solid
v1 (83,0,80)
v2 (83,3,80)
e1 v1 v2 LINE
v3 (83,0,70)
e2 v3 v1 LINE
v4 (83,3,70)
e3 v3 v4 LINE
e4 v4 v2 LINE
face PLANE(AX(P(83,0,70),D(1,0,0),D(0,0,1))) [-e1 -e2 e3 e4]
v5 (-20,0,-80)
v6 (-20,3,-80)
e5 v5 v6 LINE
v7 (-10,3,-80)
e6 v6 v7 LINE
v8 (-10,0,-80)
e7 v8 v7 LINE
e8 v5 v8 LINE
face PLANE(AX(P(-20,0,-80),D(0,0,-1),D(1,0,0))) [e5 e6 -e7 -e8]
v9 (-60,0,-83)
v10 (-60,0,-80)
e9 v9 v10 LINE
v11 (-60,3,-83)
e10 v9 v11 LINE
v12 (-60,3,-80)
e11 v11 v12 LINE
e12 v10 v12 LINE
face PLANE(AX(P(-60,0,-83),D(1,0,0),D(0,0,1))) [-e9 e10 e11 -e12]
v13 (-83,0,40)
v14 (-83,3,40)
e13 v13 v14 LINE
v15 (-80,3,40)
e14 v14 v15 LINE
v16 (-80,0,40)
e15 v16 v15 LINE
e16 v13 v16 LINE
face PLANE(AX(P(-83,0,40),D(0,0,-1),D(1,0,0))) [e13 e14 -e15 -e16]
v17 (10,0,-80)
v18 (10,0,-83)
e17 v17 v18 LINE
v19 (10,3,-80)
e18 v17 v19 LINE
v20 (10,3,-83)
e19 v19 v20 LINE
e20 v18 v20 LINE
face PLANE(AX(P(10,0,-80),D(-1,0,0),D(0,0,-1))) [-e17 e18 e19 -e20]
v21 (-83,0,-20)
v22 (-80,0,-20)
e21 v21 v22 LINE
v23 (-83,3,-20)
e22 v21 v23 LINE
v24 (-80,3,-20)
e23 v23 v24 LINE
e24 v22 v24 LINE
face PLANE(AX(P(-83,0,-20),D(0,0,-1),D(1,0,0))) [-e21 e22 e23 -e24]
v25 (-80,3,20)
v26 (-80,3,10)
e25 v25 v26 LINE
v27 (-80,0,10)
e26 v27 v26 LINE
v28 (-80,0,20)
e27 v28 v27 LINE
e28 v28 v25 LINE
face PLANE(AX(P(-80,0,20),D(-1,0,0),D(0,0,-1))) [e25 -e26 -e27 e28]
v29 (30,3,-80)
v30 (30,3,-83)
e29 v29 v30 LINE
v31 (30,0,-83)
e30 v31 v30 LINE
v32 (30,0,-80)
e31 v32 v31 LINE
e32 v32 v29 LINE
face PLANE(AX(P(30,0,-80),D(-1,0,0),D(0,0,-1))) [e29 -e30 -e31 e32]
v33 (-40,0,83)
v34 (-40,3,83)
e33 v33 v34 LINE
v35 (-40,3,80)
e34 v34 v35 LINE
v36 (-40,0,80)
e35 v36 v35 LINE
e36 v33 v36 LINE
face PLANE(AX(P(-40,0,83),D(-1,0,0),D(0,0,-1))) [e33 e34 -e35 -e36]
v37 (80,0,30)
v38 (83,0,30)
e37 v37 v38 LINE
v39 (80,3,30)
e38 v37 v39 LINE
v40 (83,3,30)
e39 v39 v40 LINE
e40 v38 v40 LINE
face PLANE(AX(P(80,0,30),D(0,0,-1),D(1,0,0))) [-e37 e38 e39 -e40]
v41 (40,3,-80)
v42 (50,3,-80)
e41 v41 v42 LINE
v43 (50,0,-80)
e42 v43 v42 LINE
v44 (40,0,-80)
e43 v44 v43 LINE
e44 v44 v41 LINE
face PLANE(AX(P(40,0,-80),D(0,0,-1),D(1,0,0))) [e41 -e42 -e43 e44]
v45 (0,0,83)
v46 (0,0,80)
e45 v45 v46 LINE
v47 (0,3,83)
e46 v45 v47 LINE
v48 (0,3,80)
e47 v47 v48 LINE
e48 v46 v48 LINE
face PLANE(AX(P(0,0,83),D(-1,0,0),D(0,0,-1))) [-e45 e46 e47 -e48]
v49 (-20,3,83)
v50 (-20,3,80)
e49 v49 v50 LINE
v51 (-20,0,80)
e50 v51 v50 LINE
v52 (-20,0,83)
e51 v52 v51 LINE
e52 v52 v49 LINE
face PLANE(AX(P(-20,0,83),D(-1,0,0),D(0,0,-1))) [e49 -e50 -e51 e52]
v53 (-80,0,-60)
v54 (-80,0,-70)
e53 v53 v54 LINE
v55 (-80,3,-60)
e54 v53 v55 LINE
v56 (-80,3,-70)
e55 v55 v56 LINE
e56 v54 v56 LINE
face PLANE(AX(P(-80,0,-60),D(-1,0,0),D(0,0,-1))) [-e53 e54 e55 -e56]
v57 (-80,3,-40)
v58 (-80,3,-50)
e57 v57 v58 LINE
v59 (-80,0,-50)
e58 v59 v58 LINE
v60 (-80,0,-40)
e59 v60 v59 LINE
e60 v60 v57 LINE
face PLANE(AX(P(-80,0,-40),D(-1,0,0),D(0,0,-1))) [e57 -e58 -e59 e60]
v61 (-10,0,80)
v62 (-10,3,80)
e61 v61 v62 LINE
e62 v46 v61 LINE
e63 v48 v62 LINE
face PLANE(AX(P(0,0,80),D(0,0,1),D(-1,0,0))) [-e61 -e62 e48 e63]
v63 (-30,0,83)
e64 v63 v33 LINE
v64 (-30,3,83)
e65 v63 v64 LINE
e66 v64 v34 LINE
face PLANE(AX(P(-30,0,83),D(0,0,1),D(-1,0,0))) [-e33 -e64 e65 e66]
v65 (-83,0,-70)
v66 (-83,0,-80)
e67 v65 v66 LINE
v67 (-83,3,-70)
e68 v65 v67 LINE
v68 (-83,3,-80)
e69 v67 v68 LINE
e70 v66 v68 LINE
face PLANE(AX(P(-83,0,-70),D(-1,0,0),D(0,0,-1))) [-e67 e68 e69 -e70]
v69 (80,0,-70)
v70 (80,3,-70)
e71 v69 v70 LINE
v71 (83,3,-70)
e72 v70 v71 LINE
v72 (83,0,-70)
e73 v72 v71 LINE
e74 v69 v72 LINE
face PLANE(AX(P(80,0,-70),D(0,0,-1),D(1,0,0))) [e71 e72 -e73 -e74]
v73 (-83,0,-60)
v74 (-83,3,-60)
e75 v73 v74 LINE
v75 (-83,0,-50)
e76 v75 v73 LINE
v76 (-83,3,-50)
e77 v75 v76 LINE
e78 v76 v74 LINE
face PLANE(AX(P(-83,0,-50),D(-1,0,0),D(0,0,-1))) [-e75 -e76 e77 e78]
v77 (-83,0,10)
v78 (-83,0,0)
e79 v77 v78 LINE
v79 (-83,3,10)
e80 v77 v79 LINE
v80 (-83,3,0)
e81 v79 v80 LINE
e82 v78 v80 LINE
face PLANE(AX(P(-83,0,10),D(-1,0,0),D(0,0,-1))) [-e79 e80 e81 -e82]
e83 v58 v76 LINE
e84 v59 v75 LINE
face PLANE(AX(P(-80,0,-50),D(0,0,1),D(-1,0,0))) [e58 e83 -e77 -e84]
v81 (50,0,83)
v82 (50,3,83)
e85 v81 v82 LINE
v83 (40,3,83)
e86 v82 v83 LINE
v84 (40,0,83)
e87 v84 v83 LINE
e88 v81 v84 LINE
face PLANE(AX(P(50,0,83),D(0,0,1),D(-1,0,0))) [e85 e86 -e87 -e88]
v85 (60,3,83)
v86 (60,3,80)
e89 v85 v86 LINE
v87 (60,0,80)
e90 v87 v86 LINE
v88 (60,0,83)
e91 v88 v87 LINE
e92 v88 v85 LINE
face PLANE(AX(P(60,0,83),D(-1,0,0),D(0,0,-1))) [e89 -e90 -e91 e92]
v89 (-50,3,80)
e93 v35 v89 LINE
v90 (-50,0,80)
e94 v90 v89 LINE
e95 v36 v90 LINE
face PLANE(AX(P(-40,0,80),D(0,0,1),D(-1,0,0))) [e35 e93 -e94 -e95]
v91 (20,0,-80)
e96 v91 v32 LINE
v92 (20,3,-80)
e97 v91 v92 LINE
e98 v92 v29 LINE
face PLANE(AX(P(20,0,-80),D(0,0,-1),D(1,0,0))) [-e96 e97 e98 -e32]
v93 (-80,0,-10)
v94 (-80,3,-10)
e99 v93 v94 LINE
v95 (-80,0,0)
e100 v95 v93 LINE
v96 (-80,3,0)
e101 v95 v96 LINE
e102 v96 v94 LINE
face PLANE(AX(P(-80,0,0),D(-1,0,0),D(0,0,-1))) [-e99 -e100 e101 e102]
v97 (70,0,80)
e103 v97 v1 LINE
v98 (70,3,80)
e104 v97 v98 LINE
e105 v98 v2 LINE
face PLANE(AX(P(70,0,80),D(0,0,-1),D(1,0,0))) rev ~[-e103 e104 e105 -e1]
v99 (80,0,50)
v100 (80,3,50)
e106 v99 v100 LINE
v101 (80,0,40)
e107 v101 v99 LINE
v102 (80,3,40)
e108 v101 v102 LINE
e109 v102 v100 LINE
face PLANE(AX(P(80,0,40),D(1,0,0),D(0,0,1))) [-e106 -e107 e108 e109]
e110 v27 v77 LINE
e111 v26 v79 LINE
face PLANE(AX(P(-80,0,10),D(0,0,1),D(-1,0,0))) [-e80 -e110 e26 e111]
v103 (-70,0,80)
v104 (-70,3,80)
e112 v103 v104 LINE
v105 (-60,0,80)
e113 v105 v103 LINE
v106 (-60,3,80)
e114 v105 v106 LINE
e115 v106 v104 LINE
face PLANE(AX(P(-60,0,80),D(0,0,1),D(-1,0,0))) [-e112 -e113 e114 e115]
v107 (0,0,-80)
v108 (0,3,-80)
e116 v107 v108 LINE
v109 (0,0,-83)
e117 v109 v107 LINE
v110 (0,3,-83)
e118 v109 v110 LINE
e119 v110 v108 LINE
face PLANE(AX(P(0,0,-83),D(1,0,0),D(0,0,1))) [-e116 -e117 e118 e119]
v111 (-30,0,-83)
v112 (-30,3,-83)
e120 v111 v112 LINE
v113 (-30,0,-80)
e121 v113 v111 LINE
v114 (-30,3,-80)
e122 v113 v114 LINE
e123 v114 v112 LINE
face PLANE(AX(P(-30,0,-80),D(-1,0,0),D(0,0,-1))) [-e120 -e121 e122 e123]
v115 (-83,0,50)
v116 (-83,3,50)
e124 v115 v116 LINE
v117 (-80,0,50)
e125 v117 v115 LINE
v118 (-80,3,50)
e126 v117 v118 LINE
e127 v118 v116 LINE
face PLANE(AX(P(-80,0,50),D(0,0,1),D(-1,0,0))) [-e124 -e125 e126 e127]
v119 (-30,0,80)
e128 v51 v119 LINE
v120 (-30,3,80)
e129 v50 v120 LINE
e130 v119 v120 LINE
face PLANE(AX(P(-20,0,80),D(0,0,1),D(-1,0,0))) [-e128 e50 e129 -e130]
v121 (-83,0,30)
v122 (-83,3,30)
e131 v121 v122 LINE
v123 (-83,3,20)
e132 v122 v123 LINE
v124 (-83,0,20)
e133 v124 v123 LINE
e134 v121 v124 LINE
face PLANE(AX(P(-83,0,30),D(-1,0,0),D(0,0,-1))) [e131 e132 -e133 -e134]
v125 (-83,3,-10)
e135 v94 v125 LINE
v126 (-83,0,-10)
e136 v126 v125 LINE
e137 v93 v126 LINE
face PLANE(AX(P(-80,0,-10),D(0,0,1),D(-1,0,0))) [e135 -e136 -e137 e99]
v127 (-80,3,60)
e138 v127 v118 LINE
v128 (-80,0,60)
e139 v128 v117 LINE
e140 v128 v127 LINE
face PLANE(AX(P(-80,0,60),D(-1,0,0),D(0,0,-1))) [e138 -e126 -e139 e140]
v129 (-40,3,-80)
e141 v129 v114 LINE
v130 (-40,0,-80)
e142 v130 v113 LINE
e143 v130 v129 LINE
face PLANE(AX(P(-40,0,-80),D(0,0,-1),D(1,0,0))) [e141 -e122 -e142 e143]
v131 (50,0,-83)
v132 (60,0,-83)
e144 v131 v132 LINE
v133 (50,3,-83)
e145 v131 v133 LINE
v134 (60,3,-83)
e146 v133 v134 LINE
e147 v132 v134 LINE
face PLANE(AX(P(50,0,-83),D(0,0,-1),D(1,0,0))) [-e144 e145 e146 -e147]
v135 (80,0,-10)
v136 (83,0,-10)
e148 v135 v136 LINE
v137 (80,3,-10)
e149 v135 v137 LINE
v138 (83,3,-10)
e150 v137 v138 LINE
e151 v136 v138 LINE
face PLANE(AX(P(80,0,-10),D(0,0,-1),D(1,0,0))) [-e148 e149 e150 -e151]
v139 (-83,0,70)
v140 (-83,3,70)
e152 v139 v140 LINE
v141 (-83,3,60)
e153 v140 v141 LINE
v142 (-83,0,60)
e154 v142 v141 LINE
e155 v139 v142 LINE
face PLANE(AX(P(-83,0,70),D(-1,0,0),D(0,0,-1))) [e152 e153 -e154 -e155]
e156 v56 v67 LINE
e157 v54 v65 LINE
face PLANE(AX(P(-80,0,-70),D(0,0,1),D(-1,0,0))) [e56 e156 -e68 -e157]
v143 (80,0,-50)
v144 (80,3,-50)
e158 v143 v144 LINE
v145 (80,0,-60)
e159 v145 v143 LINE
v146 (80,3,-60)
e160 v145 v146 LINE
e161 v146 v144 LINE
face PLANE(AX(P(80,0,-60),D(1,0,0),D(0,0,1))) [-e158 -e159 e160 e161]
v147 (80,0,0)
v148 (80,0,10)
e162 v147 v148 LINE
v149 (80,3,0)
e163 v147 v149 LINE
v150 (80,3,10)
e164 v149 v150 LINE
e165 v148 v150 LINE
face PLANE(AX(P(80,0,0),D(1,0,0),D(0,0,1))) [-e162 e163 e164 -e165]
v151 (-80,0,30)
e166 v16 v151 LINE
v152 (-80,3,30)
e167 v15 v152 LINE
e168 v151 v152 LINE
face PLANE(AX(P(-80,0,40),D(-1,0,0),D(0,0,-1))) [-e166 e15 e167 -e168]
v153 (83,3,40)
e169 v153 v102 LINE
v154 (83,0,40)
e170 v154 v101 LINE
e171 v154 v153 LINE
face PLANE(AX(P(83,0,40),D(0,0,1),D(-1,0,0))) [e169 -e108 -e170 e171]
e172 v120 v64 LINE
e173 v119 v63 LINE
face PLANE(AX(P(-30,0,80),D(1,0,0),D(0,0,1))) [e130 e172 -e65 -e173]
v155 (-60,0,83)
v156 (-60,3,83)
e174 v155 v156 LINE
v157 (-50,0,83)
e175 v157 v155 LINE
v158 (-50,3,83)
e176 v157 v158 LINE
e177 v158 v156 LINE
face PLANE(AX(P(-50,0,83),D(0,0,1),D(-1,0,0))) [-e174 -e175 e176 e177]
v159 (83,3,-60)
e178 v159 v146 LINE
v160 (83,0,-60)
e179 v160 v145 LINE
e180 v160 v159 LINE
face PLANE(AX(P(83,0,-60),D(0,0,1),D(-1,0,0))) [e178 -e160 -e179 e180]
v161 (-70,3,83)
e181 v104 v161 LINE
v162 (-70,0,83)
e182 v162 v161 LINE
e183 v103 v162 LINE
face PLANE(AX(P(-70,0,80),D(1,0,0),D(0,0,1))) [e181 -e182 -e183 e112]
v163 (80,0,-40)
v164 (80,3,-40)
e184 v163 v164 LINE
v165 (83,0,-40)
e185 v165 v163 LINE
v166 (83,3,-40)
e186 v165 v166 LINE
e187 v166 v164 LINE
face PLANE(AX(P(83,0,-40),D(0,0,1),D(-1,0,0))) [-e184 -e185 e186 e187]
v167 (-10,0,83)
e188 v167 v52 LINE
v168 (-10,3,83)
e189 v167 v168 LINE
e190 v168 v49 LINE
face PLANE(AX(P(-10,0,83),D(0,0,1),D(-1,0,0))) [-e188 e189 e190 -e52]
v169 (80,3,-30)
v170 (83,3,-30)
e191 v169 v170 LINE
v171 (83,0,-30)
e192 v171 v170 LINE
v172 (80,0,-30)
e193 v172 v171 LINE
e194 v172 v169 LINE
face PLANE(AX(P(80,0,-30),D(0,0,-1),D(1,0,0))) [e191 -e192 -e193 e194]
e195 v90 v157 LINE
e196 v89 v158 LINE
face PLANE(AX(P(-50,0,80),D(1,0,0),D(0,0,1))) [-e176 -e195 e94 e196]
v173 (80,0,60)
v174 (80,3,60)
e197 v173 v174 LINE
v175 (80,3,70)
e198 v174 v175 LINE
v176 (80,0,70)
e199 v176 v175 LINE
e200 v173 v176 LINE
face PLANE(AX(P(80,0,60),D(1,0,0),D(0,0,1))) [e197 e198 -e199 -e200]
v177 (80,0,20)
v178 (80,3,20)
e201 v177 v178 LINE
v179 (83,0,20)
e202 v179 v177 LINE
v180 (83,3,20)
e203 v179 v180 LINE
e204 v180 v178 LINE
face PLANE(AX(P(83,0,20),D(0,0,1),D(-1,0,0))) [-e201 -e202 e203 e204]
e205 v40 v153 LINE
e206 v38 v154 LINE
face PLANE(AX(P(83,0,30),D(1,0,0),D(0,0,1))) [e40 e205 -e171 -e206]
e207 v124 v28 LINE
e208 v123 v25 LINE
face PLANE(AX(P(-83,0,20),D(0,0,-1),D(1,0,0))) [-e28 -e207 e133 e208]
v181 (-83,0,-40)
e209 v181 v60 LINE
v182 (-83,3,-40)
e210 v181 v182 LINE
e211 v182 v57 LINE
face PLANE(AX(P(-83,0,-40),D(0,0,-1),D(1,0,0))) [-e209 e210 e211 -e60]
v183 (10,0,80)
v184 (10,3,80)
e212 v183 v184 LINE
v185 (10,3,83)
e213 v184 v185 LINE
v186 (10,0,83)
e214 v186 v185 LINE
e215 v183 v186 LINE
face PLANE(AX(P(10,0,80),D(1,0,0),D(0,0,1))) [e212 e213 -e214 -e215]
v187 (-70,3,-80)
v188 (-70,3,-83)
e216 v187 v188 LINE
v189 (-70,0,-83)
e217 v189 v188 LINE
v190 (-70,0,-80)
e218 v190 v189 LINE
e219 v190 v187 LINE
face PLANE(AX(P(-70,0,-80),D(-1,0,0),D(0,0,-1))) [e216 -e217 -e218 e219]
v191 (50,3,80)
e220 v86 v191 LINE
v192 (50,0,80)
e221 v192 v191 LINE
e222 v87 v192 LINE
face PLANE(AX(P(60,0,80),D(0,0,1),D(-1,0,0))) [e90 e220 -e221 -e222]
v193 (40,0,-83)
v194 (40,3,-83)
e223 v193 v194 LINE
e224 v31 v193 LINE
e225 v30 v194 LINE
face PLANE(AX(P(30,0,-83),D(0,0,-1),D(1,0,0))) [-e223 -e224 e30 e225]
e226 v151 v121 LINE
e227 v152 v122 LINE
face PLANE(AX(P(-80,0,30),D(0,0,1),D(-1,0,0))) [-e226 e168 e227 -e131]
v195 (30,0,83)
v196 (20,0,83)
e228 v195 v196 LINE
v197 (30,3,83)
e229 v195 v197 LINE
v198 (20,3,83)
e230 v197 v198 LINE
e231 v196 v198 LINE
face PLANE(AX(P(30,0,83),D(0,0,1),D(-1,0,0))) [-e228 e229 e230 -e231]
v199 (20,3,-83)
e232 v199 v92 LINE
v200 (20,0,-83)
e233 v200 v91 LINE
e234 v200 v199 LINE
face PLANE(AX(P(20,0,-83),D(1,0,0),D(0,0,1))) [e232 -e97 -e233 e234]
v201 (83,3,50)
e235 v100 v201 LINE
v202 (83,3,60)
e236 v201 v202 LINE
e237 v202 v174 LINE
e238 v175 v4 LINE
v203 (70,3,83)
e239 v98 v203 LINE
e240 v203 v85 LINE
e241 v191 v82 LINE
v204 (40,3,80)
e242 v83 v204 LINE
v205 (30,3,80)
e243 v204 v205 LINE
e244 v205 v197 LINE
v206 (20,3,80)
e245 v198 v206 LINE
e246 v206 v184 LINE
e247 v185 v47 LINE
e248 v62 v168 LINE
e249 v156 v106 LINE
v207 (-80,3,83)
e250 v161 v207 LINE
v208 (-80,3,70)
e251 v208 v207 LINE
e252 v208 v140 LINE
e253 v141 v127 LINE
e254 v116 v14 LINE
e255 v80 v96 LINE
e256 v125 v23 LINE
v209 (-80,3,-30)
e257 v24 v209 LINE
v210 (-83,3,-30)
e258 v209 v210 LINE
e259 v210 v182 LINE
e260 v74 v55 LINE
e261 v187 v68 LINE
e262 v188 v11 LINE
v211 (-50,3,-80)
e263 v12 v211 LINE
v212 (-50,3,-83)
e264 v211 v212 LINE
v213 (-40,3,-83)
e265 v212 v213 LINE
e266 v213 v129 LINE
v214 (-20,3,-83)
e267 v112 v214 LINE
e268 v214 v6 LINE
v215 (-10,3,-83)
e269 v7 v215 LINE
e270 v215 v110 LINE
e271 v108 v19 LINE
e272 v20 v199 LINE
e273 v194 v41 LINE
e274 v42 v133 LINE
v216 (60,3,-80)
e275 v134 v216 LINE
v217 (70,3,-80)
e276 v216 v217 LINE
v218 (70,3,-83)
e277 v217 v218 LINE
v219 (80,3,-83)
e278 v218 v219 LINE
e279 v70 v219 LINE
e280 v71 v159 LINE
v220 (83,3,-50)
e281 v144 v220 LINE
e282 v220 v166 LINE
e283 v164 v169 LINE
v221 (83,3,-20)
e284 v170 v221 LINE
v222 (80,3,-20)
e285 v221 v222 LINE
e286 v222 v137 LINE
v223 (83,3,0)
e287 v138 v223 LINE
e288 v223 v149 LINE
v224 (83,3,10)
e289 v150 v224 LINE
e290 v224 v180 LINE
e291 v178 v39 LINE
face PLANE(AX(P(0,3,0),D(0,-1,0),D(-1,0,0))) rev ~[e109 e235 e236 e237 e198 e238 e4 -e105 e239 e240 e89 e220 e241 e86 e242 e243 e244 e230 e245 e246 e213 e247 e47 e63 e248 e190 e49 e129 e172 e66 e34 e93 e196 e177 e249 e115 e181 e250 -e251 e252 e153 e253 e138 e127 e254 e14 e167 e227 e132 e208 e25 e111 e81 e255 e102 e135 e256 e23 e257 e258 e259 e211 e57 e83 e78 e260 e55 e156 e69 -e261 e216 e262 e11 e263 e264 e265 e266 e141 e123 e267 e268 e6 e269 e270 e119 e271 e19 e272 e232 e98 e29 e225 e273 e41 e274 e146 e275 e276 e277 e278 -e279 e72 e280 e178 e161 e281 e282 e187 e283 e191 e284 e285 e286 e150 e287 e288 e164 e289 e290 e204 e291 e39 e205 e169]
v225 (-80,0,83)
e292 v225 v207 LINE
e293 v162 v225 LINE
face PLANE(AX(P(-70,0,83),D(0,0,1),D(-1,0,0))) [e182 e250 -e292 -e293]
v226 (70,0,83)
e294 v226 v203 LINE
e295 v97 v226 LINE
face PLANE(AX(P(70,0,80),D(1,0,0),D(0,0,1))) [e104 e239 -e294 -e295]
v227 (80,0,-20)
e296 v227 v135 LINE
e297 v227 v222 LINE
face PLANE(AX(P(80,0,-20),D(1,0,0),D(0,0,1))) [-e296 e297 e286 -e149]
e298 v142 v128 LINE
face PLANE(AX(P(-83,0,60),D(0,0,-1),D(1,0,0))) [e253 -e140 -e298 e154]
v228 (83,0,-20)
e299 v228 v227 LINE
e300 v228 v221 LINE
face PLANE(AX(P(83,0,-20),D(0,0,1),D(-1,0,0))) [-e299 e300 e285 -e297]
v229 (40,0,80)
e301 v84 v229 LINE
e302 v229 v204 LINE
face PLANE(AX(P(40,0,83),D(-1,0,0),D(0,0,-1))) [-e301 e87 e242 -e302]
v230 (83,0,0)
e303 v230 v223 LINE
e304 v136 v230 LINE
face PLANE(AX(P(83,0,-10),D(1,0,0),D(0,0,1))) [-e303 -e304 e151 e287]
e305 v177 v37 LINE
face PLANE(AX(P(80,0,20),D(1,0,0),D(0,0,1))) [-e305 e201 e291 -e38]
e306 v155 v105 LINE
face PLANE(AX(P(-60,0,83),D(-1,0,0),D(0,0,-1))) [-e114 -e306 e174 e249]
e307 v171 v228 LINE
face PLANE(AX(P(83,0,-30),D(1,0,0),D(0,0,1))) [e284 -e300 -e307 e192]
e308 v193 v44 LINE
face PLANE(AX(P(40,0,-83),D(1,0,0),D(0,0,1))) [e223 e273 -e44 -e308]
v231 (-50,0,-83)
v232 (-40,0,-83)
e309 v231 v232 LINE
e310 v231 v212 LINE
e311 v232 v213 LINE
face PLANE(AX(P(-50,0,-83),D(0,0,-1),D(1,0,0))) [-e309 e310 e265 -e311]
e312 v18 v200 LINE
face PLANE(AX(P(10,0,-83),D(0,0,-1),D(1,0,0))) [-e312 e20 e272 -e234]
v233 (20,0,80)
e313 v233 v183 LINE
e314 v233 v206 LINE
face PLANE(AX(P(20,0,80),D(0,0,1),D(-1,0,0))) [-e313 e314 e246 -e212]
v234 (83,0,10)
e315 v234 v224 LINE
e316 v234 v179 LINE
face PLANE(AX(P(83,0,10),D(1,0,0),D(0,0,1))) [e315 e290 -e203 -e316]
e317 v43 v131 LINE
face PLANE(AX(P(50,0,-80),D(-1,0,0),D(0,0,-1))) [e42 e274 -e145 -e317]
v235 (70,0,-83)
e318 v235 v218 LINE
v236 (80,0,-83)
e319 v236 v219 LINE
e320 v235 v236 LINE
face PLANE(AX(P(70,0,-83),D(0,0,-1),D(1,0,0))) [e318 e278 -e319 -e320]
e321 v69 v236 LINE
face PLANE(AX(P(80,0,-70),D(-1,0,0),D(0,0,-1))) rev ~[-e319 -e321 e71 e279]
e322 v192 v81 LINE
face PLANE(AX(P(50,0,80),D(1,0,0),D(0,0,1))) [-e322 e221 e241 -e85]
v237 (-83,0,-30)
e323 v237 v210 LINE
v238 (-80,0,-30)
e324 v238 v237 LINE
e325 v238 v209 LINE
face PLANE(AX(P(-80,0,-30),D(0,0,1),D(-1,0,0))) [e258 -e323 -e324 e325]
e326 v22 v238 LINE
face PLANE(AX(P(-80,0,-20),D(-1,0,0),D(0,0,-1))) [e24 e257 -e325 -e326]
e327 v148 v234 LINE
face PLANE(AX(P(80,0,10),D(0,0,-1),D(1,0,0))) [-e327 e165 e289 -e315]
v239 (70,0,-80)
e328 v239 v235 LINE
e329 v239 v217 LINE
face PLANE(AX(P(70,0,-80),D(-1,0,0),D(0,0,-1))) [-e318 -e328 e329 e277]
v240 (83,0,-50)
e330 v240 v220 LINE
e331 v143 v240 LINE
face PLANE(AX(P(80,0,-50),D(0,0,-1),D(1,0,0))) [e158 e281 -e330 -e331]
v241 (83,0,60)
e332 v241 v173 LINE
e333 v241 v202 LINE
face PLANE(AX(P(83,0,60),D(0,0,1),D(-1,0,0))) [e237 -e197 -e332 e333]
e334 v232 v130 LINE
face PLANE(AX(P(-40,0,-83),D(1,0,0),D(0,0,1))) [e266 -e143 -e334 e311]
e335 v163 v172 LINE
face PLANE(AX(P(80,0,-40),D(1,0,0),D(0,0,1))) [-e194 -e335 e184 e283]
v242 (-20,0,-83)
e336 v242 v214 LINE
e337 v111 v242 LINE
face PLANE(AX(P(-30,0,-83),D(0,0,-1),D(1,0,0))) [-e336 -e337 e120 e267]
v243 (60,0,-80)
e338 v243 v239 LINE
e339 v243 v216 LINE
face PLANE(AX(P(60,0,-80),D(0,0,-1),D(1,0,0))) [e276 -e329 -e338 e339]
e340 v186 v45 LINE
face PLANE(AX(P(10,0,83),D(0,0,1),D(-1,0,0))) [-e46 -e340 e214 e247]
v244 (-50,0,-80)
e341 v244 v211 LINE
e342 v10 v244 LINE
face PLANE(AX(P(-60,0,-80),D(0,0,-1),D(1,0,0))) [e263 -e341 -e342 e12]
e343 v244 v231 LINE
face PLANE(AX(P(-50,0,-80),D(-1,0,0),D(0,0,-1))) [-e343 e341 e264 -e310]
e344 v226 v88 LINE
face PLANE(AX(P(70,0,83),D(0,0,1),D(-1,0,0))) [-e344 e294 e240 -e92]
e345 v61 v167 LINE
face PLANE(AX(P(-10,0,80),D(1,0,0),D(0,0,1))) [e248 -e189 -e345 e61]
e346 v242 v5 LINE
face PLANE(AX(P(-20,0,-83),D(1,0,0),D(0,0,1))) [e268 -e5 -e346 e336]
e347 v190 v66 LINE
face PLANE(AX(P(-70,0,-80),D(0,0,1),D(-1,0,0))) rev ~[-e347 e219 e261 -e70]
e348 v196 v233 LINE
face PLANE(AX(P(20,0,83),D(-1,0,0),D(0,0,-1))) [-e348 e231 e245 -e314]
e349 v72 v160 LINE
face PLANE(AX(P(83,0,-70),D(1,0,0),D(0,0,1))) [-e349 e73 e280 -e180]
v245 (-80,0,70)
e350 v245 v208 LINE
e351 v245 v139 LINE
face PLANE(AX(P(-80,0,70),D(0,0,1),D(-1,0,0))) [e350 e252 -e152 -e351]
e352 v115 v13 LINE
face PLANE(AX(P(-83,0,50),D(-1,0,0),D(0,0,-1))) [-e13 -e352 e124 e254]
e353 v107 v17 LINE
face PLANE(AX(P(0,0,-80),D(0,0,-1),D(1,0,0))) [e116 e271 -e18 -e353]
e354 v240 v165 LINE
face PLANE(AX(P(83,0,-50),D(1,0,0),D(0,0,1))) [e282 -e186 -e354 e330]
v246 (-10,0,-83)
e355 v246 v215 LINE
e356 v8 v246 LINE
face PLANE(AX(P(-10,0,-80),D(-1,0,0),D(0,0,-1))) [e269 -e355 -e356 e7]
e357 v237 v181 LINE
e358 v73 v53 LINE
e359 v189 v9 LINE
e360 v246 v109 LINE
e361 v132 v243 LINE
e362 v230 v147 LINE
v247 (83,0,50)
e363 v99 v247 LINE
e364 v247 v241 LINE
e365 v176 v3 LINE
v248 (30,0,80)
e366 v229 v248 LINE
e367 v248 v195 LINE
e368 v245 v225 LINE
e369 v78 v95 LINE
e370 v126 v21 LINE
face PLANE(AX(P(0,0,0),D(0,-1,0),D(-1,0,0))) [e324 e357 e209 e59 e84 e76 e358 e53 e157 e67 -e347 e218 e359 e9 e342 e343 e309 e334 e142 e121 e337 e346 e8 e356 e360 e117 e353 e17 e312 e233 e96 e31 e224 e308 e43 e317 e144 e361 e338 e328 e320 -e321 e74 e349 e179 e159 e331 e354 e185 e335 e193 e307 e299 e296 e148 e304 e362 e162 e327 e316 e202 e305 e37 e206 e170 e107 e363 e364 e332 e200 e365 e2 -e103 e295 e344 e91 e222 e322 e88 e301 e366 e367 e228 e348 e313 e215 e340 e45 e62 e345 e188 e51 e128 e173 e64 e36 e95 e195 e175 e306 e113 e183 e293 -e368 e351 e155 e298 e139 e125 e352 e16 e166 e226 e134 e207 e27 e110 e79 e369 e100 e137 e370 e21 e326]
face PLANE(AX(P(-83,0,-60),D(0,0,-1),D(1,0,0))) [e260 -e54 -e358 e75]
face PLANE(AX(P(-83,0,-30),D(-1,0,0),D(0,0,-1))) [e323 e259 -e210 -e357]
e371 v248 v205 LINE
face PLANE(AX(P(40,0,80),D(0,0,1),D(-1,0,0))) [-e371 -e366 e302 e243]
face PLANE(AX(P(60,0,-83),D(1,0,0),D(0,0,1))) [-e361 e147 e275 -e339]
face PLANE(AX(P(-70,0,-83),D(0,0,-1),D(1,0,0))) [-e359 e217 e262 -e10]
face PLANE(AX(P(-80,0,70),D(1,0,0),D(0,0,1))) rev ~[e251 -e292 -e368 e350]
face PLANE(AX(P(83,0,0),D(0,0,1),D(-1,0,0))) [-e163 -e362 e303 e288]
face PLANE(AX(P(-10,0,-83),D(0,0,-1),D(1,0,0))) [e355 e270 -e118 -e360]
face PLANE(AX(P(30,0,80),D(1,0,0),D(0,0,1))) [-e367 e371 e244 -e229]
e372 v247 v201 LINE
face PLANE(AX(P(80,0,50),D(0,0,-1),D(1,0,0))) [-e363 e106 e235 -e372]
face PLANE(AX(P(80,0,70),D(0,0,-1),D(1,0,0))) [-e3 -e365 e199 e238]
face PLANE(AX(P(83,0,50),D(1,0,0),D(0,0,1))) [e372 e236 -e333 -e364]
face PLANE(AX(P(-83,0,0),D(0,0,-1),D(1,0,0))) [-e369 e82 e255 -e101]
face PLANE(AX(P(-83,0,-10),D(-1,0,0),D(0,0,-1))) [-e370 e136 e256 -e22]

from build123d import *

# Parameters (mm, degrees)
BOSS_EXTRUDE1_DEPTH = 3


with BuildPart() as part:
    # Sketch1 → Boss-Extrude1 (new body)
    with BuildSketch(Plane(origin=(0, 0, 0), x_dir=(1, 0, 0), z_dir=(0, 1, 0))):
        Polygon((80, 80), (80, 70), (83, 70), (83, 60), (80, 60), (80, 50), (83, 50), (83, 40), (80, 40), (80, 30), (83, 30), (83, 20), (80, 20), (80, 10), (83, 10), (83, 0), (80, 0), (80, -10), (83, -10), (83, -20), (80, -20), (80, -30), (83, -30), (83, -40), (80, -40), (80, -50), (83, -50), (83, -60), (80, -60), (80, -70), (83, -70), (83, -80), (80, -80), (70, -80), (70, -83), (60, -83), (60, -80), (50, -80), (50, -83), (40, -83), (40, -80), (30, -80), (30, -83), (20, -83), (20, -80), (10, -80), (10, -83), (0, -83), (0, -80), (-10, -80), (-10, -83), (-20, -83), (-20, -80), (-30, -80), (-30, -83), (-40, -83), (-40, -80), (-50, -80), (-50, -83), (-60, -83), (-60, -80), (-70, -80), (-70, -83), (-80, -83), (-80, -80), (-80, -70), (-83, -70), (-83, -60), (-80, -60), (-80, -50), (-83, -50), (-83, -40), (-80, -40), (-80, -30), (-83, -30), (-83, -20), (-80, -20), (-80, -10), (-83, -10), (-83, 0), (-80, 0), (-80, 10), (-83, 10), (-83, 20), (-80, 20), (-80, 30), (-83, 30), (-83, 40), (-80, 40), (-80, 50), (-83, 50), (-83, 60), (-80, 60), (-80, 70), (-83, 70), (-83, 80), (-80, 80), (-70, 80), (-70, 83), (-60, 83), (-60, 80), (-50, 80), (-50, 83), (-40, 83), (-40, 80), (-30, 80), (-30, 83), (-20, 83), (-20, 80), (-10, 80), (-10, 83), (0, 83), (0, 80), (10, 80), (10, 83), (20, 83), (20, 80), (30, 80), (30, 83), (40, 83), (40, 80), (50, 80), (50, 83), (60, 83), (60, 80), (70, 80), (70, 83), (80, 83), align=None)
    extrude(amount=BOSS_EXTRUDE1_DEPTH)


solid = part.part
